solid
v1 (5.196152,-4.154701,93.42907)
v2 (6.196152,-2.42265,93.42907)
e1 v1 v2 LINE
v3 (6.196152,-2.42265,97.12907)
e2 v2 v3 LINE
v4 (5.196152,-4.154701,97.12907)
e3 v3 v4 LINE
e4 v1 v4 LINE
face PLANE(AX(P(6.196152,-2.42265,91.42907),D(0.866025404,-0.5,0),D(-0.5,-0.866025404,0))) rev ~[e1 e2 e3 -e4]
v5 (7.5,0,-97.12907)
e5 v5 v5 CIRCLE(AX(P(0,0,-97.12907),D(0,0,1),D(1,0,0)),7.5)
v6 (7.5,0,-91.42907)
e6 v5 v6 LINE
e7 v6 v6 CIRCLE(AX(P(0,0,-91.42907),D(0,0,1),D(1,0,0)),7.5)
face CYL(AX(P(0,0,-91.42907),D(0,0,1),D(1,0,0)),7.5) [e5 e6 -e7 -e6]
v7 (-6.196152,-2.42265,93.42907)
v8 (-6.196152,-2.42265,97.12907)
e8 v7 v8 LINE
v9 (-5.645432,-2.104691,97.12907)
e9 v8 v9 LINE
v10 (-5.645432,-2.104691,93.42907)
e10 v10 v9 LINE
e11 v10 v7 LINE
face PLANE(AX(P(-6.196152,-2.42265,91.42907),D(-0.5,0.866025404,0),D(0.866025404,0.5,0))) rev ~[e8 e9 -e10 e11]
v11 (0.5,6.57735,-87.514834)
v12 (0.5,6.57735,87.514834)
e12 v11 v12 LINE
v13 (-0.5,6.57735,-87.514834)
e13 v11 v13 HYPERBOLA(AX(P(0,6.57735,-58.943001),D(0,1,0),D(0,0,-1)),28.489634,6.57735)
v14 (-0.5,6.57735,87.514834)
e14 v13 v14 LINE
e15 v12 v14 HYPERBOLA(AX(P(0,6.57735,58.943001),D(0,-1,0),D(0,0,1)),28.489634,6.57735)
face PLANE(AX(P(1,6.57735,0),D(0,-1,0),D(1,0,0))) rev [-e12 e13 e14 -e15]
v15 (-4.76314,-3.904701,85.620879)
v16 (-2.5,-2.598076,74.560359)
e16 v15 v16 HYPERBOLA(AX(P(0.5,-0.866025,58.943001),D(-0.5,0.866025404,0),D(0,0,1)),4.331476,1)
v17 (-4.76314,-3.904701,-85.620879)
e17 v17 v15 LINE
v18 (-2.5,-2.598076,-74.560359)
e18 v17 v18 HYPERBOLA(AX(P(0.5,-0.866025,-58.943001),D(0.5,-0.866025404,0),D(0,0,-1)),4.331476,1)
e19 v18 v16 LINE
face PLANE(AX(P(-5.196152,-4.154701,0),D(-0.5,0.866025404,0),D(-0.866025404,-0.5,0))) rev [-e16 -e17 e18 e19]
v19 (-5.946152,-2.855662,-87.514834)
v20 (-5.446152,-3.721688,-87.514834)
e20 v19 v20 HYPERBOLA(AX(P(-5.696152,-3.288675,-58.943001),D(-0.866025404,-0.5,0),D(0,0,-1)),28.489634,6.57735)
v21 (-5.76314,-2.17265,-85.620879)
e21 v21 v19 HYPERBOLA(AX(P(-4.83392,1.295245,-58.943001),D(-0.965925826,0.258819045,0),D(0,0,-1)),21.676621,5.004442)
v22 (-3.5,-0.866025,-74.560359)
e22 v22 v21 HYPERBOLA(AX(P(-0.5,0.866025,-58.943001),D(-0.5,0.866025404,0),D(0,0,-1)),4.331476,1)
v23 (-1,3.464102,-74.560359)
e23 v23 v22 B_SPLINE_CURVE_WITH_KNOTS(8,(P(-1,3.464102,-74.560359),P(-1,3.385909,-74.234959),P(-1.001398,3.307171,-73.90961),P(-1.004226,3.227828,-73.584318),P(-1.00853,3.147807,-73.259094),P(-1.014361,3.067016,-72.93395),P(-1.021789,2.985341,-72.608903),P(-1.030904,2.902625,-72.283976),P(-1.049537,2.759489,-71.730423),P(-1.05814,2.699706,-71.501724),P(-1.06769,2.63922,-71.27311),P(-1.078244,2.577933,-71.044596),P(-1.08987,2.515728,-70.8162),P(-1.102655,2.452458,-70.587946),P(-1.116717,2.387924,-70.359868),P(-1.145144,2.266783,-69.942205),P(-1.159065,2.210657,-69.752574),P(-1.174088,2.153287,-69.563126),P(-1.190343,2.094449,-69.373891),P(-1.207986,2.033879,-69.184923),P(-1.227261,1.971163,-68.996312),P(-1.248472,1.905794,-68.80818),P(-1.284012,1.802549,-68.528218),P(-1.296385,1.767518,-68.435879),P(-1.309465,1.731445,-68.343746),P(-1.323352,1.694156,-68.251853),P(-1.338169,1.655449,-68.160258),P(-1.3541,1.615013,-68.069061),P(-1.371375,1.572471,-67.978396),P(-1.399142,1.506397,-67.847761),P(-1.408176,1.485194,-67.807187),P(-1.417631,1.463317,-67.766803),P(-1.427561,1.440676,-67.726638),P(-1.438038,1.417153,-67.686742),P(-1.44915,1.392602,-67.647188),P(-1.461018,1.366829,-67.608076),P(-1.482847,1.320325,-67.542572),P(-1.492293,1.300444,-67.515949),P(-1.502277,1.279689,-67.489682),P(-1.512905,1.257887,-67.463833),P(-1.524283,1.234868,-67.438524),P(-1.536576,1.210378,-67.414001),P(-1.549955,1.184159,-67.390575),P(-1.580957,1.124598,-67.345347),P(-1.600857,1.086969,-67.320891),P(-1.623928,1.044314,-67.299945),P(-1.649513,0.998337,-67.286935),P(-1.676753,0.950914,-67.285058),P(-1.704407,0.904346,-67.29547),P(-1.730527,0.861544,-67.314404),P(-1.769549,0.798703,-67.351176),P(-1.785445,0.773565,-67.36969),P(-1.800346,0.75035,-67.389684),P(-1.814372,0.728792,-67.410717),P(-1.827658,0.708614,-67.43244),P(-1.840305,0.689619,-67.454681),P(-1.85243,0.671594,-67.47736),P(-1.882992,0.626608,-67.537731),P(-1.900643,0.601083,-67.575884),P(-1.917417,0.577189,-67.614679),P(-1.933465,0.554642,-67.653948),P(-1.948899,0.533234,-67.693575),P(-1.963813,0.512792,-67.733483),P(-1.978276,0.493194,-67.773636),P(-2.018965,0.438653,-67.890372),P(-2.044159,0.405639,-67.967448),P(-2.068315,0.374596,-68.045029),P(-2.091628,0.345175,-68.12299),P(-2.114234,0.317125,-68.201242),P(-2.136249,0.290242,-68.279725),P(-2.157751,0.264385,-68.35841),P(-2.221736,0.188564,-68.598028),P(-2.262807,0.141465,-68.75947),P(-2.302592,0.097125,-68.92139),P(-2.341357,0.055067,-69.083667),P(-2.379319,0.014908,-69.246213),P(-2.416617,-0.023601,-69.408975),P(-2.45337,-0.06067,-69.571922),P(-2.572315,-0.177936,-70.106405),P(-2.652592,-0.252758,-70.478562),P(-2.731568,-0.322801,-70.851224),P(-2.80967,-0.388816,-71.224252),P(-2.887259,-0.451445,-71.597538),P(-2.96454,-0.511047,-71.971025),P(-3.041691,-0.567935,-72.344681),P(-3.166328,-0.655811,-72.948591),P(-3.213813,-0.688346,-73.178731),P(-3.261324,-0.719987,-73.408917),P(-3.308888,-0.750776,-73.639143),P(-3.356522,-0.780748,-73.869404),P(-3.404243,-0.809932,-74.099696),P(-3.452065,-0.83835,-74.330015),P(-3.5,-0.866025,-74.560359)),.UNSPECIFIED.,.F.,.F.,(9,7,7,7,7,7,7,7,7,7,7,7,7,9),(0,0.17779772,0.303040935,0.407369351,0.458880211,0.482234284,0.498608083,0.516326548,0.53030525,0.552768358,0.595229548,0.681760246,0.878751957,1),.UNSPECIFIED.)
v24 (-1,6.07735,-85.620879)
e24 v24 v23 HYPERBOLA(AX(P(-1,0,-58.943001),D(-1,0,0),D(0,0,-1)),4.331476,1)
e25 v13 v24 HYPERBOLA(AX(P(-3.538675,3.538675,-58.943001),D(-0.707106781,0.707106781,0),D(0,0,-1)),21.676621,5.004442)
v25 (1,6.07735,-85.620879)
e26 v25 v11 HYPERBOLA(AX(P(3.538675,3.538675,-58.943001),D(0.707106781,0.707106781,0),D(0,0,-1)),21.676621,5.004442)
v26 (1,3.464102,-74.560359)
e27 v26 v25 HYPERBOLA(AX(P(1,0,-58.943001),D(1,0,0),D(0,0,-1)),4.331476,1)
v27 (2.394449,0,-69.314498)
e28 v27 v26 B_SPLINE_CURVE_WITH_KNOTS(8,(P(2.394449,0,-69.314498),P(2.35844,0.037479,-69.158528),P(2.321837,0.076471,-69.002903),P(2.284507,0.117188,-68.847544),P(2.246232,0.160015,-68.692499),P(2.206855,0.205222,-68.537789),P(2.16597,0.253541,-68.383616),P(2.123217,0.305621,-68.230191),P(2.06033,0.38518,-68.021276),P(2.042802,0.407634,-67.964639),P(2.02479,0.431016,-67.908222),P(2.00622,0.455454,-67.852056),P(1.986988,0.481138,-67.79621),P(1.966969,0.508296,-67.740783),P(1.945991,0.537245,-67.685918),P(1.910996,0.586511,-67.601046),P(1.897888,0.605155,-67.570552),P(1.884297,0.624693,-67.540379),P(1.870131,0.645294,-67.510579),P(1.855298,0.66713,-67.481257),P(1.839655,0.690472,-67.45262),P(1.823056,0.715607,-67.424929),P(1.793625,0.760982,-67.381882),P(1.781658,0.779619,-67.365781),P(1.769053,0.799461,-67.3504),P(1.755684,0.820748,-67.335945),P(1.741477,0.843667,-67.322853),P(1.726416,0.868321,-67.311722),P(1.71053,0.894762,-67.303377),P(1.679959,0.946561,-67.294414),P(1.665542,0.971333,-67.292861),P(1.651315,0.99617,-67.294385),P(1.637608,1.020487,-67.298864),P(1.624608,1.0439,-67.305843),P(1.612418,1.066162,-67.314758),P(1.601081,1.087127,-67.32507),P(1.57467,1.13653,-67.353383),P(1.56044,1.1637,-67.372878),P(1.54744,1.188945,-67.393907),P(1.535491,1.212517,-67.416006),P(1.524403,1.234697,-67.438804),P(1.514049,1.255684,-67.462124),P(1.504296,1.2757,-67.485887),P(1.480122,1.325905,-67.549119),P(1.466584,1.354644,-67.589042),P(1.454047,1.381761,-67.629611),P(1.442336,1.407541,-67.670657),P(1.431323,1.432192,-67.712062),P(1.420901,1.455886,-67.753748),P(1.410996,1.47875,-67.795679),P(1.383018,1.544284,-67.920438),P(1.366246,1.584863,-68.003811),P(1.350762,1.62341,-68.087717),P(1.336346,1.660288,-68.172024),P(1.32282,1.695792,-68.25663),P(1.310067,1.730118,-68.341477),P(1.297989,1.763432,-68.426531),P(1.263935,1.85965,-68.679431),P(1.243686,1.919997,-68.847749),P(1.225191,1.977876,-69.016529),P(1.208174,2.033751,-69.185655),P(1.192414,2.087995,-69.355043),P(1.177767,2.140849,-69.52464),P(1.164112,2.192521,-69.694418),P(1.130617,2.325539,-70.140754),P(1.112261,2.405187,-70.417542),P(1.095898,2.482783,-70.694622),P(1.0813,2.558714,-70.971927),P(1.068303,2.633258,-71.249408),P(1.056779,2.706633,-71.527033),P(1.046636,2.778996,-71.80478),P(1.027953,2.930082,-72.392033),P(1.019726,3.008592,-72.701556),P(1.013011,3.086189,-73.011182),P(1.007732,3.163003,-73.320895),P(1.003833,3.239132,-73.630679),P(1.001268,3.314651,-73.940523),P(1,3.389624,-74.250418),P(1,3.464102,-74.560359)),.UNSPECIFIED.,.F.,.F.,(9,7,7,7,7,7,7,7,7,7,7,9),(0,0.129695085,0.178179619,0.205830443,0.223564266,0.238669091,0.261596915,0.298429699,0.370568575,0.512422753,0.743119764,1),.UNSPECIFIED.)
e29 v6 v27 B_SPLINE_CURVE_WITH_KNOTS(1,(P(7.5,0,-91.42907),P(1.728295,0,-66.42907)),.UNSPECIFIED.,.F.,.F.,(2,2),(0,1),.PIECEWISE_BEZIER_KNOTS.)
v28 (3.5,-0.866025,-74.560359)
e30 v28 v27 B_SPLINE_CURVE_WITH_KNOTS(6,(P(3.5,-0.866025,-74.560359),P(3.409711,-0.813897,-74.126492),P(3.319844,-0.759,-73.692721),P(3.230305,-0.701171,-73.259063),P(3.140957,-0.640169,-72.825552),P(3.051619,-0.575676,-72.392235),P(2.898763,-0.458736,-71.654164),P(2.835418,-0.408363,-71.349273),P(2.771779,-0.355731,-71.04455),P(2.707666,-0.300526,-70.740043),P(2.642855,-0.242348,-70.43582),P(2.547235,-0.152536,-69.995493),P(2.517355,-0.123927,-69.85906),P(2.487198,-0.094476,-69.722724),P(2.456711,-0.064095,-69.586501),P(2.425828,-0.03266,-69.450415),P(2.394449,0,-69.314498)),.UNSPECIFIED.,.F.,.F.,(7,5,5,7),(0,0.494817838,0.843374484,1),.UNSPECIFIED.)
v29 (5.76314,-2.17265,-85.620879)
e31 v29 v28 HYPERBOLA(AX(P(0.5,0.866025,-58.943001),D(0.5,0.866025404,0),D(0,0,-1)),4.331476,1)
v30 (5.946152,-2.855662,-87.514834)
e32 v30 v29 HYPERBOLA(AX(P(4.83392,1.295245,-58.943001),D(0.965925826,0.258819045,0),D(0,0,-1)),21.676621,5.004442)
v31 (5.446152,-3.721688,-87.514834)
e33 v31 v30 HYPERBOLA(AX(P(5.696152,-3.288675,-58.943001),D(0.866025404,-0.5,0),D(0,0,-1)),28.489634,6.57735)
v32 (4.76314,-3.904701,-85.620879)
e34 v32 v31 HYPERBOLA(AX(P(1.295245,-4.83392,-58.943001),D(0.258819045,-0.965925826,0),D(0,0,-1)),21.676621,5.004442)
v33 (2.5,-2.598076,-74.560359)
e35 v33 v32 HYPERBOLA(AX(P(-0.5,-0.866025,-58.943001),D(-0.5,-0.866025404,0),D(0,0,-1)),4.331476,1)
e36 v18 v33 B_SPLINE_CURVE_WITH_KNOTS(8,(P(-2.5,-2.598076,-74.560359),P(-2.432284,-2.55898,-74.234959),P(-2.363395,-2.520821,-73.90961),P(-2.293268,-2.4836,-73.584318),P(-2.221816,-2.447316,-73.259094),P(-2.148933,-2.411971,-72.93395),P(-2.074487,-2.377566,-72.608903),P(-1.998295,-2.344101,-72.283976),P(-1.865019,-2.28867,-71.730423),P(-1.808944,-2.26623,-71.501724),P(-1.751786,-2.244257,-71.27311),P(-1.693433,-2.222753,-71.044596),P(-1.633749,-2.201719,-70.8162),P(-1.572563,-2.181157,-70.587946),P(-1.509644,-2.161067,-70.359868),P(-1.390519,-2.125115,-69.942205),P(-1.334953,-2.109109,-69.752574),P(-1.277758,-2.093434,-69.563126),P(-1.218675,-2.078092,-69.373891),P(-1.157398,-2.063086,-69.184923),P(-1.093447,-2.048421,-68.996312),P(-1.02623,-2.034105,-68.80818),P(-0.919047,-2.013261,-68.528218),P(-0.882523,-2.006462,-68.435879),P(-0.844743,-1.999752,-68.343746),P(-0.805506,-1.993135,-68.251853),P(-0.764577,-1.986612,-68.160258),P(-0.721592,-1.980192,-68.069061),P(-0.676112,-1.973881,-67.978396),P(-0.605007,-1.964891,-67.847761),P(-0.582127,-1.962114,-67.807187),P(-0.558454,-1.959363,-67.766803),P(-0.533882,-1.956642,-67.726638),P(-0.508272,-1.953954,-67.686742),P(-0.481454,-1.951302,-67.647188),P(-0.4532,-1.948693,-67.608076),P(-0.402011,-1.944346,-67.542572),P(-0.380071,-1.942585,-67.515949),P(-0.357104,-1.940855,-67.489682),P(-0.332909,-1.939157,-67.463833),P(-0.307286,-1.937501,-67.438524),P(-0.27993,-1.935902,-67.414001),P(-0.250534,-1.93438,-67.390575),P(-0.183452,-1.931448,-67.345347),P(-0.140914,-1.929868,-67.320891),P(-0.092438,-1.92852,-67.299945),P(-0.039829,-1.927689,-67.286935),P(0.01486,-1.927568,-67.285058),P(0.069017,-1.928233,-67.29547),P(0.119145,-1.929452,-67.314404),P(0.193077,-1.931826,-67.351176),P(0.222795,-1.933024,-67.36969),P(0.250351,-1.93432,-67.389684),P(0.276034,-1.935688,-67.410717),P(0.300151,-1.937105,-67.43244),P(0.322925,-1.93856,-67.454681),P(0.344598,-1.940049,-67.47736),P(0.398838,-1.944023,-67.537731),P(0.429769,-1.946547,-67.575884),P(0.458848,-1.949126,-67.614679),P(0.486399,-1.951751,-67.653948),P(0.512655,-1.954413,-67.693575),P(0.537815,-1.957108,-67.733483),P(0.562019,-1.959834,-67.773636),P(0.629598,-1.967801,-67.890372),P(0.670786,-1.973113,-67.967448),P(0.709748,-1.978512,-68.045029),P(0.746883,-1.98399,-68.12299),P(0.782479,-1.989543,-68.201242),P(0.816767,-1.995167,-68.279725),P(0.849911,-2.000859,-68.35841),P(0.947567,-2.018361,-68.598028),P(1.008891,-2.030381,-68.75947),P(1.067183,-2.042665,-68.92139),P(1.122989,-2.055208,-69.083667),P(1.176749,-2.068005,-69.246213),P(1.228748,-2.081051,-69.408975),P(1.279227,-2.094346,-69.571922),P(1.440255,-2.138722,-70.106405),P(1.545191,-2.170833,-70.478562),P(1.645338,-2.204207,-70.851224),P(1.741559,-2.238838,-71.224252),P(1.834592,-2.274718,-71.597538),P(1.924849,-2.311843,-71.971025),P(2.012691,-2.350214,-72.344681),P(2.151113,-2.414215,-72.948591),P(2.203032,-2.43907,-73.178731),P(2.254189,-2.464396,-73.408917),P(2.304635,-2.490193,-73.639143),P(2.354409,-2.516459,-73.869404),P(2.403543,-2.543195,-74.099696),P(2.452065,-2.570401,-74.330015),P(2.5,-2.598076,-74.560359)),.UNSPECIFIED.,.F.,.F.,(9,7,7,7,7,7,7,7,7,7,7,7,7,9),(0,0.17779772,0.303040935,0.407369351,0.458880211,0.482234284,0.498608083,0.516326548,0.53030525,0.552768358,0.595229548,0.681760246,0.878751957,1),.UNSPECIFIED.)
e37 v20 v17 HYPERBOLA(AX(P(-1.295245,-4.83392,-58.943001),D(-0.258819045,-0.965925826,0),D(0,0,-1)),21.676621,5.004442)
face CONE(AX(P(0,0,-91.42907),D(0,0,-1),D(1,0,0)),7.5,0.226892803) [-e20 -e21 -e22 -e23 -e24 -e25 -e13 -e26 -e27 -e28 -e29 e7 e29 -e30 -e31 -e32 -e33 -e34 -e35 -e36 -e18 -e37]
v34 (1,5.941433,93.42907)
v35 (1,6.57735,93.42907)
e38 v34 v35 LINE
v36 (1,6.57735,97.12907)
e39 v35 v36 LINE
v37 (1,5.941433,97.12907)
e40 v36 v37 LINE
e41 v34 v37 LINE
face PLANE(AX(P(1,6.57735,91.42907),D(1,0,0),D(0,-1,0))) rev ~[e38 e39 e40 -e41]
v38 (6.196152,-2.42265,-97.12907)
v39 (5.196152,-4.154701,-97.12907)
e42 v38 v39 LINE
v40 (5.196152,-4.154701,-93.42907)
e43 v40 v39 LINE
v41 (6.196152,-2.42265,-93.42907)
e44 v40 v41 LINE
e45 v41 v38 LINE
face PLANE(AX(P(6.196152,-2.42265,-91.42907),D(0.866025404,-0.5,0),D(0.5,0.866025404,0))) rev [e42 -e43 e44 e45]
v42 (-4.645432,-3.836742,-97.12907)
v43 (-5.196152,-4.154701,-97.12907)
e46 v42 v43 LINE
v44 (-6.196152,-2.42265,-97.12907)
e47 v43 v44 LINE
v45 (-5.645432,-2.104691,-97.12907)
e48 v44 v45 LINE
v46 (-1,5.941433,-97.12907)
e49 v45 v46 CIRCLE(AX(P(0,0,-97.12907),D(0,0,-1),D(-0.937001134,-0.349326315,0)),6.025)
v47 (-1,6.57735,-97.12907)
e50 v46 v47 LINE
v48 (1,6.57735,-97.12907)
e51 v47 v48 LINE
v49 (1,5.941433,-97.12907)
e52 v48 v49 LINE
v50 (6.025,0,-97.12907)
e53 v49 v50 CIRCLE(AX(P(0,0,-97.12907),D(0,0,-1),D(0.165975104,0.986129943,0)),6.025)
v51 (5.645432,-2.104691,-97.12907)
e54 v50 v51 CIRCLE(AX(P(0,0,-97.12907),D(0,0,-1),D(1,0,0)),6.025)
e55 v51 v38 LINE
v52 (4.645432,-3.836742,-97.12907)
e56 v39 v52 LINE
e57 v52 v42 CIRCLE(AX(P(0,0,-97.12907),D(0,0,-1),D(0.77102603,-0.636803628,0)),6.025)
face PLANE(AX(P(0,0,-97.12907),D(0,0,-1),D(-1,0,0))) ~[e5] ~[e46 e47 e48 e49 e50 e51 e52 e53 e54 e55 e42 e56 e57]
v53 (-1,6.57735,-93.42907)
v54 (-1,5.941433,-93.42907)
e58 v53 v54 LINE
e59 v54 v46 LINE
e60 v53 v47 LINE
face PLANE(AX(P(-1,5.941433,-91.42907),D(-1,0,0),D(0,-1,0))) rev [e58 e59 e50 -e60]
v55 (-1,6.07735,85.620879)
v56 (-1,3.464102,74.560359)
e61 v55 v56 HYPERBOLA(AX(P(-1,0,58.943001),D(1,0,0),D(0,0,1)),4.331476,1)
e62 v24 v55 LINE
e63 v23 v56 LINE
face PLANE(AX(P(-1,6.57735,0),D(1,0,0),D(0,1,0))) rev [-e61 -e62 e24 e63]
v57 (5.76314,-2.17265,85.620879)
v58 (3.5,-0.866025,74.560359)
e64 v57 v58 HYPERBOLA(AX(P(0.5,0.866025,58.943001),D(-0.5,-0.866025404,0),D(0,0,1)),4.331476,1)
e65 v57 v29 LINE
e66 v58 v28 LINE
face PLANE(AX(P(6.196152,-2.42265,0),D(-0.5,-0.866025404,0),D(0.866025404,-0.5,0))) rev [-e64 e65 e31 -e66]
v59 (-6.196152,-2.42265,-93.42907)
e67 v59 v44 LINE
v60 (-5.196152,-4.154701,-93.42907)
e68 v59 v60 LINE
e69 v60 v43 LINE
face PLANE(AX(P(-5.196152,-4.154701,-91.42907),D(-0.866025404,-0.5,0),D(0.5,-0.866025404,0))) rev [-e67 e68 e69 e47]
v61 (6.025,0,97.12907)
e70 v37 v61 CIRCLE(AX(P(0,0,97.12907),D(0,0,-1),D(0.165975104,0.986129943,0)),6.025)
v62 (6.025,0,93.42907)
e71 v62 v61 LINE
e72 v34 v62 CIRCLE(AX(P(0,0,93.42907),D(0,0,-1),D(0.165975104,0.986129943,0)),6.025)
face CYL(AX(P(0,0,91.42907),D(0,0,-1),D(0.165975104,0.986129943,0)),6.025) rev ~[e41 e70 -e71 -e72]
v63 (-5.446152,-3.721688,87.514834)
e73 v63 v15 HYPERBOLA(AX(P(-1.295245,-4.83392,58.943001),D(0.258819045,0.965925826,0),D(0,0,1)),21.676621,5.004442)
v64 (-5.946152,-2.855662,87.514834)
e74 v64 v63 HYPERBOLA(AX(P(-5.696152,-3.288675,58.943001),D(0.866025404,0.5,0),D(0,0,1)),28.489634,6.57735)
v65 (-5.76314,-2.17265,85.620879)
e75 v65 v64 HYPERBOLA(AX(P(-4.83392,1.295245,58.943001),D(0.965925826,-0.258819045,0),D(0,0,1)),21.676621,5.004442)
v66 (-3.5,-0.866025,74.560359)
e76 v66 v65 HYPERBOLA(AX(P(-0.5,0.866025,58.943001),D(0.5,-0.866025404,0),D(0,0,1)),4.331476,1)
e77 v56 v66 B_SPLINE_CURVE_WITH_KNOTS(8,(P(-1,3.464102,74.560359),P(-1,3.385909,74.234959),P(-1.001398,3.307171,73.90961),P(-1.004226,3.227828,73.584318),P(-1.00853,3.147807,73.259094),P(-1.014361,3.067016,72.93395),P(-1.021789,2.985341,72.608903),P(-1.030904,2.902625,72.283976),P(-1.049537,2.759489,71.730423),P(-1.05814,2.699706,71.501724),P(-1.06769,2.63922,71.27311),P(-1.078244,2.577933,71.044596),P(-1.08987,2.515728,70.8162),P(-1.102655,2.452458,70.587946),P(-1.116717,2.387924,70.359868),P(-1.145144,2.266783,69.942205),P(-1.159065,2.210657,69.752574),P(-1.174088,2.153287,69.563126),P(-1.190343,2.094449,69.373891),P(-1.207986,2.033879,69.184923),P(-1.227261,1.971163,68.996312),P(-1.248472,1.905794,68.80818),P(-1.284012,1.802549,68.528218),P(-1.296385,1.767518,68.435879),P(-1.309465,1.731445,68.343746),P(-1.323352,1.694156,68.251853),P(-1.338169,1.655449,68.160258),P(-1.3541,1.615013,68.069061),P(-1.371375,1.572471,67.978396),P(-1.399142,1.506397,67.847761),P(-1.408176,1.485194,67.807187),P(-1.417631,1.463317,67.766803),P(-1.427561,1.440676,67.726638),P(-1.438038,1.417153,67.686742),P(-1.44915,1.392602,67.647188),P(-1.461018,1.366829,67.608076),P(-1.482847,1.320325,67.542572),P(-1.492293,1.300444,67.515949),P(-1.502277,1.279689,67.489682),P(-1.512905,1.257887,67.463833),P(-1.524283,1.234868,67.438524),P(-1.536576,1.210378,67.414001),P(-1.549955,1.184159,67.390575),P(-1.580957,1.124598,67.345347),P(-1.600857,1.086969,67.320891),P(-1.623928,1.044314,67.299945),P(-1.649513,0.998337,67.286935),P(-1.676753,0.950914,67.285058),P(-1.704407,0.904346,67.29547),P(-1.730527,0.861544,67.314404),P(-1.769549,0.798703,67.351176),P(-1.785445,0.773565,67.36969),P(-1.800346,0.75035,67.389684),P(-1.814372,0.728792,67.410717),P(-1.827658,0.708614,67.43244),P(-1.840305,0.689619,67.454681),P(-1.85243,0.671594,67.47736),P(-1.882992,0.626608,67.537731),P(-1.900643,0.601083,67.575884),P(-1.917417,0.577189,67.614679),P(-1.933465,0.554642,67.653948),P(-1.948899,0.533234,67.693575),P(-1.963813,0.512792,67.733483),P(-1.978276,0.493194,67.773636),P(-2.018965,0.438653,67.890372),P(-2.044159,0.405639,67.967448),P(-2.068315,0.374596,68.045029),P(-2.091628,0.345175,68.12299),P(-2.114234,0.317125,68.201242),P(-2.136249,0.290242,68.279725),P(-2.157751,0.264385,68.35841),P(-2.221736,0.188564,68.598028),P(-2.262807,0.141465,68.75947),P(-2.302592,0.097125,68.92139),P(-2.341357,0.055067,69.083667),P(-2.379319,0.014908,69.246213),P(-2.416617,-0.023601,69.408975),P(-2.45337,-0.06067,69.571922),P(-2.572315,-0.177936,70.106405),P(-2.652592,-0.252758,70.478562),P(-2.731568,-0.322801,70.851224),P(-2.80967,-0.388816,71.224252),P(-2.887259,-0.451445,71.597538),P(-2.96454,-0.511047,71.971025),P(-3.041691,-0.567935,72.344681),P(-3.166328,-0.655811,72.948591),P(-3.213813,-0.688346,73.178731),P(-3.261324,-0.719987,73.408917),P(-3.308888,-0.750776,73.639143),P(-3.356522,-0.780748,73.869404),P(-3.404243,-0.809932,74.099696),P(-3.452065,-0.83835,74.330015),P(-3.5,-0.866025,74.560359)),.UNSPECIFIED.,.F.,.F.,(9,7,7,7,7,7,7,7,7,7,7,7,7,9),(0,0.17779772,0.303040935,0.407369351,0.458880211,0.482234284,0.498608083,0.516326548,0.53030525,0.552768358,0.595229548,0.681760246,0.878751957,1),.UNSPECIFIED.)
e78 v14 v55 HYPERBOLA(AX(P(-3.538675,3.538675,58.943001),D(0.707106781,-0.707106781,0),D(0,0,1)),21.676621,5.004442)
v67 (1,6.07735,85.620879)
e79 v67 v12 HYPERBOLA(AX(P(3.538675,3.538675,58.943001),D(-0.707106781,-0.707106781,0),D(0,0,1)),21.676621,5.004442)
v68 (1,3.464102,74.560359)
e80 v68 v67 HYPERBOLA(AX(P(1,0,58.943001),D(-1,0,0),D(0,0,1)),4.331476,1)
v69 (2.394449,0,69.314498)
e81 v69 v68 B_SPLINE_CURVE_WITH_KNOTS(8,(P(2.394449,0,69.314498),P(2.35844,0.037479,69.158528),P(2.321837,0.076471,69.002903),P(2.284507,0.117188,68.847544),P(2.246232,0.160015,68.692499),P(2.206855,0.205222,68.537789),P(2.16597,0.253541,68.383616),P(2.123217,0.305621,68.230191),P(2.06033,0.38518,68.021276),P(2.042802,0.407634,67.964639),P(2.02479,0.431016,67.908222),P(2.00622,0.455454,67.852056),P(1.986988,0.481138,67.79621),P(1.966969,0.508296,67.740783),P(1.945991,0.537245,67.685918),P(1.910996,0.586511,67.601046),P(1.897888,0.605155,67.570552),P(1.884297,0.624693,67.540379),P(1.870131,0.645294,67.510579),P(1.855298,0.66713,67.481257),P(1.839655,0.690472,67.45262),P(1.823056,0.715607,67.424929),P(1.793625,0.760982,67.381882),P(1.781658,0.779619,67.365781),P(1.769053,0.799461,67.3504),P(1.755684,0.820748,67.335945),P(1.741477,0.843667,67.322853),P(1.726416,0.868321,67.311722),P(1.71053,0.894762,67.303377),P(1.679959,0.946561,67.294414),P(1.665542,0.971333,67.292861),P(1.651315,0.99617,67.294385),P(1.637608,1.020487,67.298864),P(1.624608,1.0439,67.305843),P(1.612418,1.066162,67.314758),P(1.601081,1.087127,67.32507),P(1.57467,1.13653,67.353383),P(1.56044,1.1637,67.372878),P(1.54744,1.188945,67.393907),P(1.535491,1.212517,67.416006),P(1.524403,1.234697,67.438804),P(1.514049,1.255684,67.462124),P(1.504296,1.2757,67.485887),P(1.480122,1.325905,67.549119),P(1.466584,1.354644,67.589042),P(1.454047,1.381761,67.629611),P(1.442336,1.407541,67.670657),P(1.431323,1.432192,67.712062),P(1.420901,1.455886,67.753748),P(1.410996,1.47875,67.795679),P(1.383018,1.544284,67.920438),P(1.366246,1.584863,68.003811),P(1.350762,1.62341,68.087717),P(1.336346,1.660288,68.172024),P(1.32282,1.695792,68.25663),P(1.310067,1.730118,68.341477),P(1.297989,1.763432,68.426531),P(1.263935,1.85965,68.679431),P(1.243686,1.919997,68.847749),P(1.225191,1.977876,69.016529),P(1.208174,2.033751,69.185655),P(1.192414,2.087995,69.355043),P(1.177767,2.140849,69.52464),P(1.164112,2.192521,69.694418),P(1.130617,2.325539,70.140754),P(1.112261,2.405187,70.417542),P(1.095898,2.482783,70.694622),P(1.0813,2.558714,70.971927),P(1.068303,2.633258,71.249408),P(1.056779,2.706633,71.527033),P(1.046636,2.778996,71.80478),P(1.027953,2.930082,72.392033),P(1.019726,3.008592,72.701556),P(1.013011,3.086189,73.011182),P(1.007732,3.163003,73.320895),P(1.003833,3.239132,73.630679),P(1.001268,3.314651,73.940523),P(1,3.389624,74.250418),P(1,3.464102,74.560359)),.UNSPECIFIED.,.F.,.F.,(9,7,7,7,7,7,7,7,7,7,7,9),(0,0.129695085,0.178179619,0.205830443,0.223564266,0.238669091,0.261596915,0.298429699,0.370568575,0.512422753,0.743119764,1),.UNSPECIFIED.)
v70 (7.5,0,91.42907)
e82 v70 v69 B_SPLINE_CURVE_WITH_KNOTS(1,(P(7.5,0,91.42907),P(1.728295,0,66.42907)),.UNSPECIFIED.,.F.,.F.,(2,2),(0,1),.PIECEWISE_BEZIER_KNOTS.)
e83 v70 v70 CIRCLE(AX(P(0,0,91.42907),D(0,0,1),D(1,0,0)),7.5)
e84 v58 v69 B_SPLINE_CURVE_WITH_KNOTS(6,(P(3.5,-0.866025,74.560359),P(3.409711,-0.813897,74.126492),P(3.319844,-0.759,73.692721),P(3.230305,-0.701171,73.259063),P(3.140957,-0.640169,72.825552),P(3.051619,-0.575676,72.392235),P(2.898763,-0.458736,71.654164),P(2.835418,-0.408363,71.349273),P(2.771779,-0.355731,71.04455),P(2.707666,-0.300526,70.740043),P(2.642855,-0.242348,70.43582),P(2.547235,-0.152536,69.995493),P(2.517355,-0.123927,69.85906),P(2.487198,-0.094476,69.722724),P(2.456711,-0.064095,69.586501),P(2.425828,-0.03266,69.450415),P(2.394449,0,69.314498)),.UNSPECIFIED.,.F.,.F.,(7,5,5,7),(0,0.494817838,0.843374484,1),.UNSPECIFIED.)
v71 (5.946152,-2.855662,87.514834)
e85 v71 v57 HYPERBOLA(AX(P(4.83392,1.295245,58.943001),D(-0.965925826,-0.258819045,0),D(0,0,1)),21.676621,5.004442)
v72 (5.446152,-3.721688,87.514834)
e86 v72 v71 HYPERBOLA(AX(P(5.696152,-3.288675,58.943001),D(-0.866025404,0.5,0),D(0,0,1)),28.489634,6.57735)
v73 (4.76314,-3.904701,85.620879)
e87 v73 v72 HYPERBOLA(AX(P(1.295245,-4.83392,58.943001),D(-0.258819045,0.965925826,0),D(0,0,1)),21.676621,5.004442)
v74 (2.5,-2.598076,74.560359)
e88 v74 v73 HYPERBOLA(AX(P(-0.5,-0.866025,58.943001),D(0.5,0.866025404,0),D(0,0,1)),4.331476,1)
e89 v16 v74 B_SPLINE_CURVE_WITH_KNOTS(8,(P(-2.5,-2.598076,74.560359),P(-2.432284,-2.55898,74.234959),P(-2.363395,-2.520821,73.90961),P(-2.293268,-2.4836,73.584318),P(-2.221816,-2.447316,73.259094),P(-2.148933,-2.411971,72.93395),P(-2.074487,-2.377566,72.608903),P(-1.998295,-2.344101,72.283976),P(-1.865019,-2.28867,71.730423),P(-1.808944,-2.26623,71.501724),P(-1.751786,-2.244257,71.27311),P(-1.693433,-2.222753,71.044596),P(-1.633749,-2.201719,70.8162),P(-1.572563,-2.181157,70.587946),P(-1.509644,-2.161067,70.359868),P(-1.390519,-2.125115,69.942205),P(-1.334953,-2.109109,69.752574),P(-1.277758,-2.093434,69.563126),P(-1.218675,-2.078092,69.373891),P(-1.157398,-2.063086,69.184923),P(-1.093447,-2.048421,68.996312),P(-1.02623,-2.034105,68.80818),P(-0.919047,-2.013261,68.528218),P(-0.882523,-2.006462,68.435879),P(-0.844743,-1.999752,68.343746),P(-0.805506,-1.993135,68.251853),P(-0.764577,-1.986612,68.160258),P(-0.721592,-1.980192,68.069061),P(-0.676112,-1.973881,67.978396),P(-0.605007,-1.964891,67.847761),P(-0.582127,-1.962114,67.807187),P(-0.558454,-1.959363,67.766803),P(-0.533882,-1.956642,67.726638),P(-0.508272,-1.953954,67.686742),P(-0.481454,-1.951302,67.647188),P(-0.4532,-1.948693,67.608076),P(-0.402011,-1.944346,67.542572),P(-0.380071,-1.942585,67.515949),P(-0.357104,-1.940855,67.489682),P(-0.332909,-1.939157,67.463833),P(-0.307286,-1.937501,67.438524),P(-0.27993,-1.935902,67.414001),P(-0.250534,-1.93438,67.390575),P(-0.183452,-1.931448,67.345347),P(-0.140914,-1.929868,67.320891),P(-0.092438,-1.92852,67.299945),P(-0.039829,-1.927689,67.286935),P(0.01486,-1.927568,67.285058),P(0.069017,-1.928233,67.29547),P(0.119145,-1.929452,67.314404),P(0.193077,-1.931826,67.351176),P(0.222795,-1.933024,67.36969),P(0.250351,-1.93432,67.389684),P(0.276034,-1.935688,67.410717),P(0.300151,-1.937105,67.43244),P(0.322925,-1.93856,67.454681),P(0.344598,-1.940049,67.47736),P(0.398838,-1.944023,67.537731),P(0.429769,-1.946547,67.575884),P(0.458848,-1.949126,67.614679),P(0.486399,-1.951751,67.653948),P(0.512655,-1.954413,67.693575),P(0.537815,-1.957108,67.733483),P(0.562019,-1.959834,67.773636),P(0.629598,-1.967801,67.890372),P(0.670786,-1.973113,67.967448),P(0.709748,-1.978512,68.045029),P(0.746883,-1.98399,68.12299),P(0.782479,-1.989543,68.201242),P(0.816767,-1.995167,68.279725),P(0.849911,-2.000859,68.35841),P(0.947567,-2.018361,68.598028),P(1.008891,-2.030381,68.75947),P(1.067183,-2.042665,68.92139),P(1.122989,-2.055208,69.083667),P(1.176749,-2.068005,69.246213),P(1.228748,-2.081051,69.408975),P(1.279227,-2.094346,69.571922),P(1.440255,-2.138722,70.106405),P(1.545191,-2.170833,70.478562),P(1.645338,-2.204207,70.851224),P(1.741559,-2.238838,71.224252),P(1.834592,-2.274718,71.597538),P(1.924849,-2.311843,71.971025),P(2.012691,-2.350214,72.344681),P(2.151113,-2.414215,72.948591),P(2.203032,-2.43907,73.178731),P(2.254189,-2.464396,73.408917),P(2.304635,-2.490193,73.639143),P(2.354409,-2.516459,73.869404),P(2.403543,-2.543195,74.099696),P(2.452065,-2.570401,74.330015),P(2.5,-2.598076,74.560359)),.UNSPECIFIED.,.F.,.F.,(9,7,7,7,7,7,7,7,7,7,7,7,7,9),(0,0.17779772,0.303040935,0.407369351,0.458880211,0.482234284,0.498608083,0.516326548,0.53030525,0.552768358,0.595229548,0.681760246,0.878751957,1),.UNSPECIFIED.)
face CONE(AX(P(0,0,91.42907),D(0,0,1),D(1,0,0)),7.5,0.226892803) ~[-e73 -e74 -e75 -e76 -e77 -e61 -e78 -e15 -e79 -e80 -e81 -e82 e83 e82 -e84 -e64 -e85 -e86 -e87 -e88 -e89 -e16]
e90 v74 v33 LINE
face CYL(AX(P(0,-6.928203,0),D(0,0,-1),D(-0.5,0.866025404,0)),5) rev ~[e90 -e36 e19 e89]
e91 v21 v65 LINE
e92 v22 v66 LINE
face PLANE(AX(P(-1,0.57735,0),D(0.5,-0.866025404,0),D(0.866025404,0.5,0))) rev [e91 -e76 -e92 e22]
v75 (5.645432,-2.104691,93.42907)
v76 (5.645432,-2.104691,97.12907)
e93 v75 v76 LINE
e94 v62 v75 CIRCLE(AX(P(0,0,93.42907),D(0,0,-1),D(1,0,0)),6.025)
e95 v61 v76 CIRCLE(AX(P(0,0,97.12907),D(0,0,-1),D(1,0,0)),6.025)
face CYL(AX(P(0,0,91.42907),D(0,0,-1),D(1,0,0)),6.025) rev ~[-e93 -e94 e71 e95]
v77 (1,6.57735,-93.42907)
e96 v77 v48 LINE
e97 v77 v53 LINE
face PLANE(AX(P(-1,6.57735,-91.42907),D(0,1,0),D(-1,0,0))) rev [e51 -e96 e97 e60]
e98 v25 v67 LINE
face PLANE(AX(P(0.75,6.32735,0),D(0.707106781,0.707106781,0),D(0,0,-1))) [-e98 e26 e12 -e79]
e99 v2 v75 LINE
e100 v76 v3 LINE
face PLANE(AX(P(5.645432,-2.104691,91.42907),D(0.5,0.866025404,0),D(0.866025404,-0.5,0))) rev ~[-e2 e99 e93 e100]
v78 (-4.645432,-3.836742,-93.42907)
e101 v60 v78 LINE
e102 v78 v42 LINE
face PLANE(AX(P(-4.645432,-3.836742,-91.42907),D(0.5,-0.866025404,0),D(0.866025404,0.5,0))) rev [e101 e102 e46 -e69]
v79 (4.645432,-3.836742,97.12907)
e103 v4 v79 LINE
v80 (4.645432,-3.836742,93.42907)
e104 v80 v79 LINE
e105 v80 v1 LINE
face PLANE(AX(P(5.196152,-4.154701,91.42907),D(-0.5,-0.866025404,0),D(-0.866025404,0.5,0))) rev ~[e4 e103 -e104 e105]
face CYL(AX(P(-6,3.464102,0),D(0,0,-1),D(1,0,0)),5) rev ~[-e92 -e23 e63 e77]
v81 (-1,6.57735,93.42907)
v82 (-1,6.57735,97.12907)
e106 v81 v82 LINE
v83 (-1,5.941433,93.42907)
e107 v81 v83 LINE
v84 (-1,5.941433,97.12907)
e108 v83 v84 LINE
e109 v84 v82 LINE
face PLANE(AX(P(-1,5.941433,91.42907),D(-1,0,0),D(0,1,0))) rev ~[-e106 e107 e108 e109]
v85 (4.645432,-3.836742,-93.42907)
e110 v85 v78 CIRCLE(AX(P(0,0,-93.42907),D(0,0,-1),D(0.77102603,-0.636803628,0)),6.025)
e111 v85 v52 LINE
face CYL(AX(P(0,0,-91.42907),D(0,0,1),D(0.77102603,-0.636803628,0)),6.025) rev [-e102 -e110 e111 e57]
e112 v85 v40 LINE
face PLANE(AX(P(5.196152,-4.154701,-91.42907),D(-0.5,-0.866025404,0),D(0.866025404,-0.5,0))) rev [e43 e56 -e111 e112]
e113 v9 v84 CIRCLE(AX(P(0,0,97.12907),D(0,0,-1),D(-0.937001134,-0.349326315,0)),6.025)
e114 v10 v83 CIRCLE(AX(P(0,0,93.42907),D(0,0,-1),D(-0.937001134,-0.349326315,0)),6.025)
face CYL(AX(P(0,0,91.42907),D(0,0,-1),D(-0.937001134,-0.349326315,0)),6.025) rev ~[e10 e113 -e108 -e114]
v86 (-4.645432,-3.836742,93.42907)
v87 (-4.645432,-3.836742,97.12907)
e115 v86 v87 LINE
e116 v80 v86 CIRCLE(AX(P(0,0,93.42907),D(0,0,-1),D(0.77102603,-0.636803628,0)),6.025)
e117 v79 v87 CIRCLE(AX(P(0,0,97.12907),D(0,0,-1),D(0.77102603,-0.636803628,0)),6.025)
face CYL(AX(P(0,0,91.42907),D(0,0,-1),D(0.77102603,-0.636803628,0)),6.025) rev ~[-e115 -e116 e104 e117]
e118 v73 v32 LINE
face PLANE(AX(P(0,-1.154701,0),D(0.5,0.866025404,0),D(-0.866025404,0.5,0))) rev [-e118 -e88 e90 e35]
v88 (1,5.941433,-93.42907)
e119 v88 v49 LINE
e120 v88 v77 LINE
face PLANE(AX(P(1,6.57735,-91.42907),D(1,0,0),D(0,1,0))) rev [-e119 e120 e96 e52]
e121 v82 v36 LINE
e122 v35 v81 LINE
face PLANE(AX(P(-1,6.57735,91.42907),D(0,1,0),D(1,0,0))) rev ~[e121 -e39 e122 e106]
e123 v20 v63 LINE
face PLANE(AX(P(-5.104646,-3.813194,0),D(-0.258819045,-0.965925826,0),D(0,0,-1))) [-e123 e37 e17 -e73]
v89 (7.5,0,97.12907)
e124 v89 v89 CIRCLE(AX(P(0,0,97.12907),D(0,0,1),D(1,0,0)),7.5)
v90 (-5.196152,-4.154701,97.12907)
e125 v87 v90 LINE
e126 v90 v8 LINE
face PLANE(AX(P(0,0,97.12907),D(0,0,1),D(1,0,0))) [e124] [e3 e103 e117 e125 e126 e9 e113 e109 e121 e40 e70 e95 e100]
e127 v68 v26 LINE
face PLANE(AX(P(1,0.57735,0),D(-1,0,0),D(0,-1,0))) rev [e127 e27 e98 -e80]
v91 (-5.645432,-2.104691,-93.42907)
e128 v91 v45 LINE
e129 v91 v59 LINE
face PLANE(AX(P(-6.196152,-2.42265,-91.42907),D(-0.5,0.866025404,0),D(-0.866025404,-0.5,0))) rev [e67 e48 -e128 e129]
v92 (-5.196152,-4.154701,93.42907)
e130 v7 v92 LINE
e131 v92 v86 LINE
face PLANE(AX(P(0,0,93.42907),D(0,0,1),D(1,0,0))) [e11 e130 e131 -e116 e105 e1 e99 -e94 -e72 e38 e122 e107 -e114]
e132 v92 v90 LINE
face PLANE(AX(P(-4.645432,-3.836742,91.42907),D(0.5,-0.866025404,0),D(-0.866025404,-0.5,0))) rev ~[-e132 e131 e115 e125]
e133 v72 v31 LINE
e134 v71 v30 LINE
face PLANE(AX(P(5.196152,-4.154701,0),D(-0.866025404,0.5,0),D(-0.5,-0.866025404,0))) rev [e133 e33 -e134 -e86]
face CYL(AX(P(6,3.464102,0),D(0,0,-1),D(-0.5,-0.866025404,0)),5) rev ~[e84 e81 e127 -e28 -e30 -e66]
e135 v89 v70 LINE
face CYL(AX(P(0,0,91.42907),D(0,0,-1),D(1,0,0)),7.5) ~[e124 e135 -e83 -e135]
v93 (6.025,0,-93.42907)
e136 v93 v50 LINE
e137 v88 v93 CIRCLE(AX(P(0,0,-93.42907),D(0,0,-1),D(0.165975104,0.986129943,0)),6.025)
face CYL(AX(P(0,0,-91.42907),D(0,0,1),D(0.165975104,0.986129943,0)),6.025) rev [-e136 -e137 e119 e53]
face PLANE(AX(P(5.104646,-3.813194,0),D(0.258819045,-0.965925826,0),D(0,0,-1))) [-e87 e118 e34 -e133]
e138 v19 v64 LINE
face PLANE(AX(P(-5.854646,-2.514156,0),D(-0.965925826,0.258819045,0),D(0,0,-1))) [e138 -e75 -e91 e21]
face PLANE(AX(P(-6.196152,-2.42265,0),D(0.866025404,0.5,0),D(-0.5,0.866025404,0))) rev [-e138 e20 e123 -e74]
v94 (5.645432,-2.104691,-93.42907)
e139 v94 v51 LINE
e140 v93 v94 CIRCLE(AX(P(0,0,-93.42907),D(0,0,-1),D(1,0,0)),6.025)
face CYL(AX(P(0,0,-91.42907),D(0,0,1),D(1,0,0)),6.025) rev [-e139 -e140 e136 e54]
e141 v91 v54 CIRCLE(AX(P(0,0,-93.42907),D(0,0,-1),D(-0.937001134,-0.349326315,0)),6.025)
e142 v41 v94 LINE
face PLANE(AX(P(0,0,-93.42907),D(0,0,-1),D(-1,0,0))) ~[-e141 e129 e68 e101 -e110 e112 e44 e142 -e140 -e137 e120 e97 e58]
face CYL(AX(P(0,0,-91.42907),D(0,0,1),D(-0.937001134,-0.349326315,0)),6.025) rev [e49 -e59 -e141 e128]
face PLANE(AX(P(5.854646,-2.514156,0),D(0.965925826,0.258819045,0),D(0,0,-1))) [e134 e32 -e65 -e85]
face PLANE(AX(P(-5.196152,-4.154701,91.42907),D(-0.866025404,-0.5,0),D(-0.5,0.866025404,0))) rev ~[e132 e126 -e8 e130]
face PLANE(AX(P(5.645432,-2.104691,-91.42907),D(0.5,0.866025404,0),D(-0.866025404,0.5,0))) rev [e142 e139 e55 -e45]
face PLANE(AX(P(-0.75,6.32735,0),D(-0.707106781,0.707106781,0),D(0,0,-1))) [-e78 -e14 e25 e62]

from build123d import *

# Parameters (mm, degrees)
F1_DEPTH = 91.42907
F2_R     = 7.5
F3_DEPTH = 2
F4_DEPTH = 5.7
F5_R     = 5
F6_DEPTH = 25
F6_TAPER = 13
F7_SIZE  = 0.5


with BuildPart() as f1:
    # F0 (on Top) → F1 (new body)
    with BuildSketch(Plane.XY):
        Polygon((1, 6.5773502692), (-1, 6.5773502692), (-1, 0.5773502692), (-6.1961524227, -2.4226497308), (-5.1961524227, -4.1547005384), (0, -1.1547005384), (5.1961524227, -4.1547005384), (6.1961524227, -2.4226497308), (1, 0.5773502692), align=None)
    extrude(amount=F1_DEPTH)

    # F2 (on face) → F3 (join)
    with BuildSketch(Plane.XY.offset(91.42907)):
        Circle(F2_R)
        with BuildLine():
            ThreePointArc((1, 5.941432908), (4.6003056964, 3.8907341852), (6.025, 0))
            ThreePointArc((6.025, 0), (5.9293486908, -1.0693217956), (5.6454318332, -2.1046910502))
            Line((5.6454318332, -2.1046910502), (6.1961524227, -2.4226497308))
            Line((6.1961524227, -2.4226497308), (5.1961524227, -4.1547005384))
            Line((5.1961524227, -4.1547005384), (4.6454318332, -3.8367418578))
            ThreePointArc((4.6454318332, -3.8367418578), (0, -6.025), (-4.6454318332, -3.8367418578))
            Line((-4.6454318332, -3.8367418578), (-5.1961524227, -4.1547005384))
            Line((-5.1961524227, -4.1547005384), (-6.1961524227, -2.4226497308))
            Line((-6.1961524227, -2.4226497308), (-5.6454318332, -2.1046910502))
            ThreePointArc((-5.6454318332, -2.1046910502), (-5.2178030578, 3.0125), (-1, 5.941432908))
            Line((-1, 5.941432908), (-1, 6.5773502692))
            Line((-1, 6.5773502692), (1, 6.5773502692))
            Line((1, 6.5773502692), (1, 5.941432908))
        make_face(mode=Mode.SUBTRACT)
        with BuildLine():
            Line((1, 0.5773502692), (1, 5.941432908))
            ThreePointArc((1, 5.941432908), (0, 6.025), (-1, 5.941432908))
            Line((-1, 5.941432908), (-1, 0.5773502692))
            Line((-1, 0.5773502692), (-5.6454318332, -2.1046910502))
            ThreePointArc((-5.6454318332, -2.1046910502), (-5.2178030578, -3.0125), (-4.6454318332, -3.8367418578))
            Line((-4.6454318332, -3.8367418578), (0, -1.1547005384))
            Line((0, -1.1547005384), (4.6454318332, -3.8367418578))
            ThreePointArc((4.6454318332, -3.8367418578), (5.2178030578, -3.0125), (5.6454318332, -2.1046910502))
            Line((5.6454318332, -2.1046910502), (1, 0.5773502692))
        make_face()
        with BuildLine():
            ThreePointArc((5.6454318332, -2.1046910502), (5.9293486908, -1.0693217956), (6.025, 0))
            ThreePointArc((6.025, 0), (4.6003056964, 3.8907341852), (1, 5.941432908))
            Line((1, 5.941432908), (1, 0.5773502692))
            Line((1, 0.5773502692), (5.6454318332, -2.1046910502))
        make_face()
        with BuildLine():
            ThreePointArc((-4.6454318332, -3.8367418578), (0, -6.025), (4.6454318332, -3.8367418578))
            Line((4.6454318332, -3.8367418578), (0, -1.1547005384))
            Line((0, -1.1547005384), (-4.6454318332, -3.8367418578))
        make_face()
        with BuildLine():
            Line((-1, 0.5773502692), (-1, 5.941432908))
            ThreePointArc((-1, 5.941432908), (-5.2178030578, 3.0125), (-5.6454318332, -2.1046910502))
            Line((-5.6454318332, -2.1046910502), (-1, 0.5773502692))
        make_face()
        with BuildLine():
            ThreePointArc((-4.6454318332, -3.8367418578), (-5.2178030578, -3.0125), (-5.6454318332, -2.1046910502))
            Line((-5.6454318332, -2.1046910502), (-6.1961524227, -2.4226497308))
            Line((-6.1961524227, -2.4226497308), (-5.1961524227, -4.1547005384))
            Line((-5.1961524227, -4.1547005384), (-4.6454318332, -3.8367418578))
        make_face()
        with BuildLine():
            Line((6.1961524227, -2.4226497308), (5.6454318332, -2.1046910502))
            ThreePointArc((5.6454318332, -2.1046910502), (5.2178030578, -3.0125), (4.6454318332, -3.8367418578))
            Line((4.6454318332, -3.8367418578), (5.1961524227, -4.1547005384))
            Line((5.1961524227, -4.1547005384), (6.1961524227, -2.4226497308))
        make_face()
        with BuildLine():
            ThreePointArc((-1, 5.941432908), (0, 6.025), (1, 5.941432908))
            Line((1, 5.941432908), (1, 6.5773502692))
            Line((1, 6.5773502692), (-1, 6.5773502692))
            Line((-1, 6.5773502692), (-1, 5.941432908))
        make_face()
    extrude(amount=F3_DEPTH)

    # F2 (on face) → F4 (join)
    with BuildSketch(Plane.XY.offset(91.42907)):
        Circle(F2_R)
        with BuildLine():
            ThreePointArc((1, 5.941432908), (4.6003056964, 3.8907341852), (6.025, 0))
            ThreePointArc((6.025, 0), (5.9293486908, -1.0693217956), (5.6454318332, -2.1046910502))
            Line((5.6454318332, -2.1046910502), (6.1961524227, -2.4226497308))
            Line((6.1961524227, -2.4226497308), (5.1961524227, -4.1547005384))
            Line((5.1961524227, -4.1547005384), (4.6454318332, -3.8367418578))
            ThreePointArc((4.6454318332, -3.8367418578), (0, -6.025), (-4.6454318332, -3.8367418578))
            Line((-4.6454318332, -3.8367418578), (-5.1961524227, -4.1547005384))
            Line((-5.1961524227, -4.1547005384), (-6.1961524227, -2.4226497308))
            Line((-6.1961524227, -2.4226497308), (-5.6454318332, -2.1046910502))
            ThreePointArc((-5.6454318332, -2.1046910502), (-5.2178030578, 3.0125), (-1, 5.941432908))
            Line((-1, 5.941432908), (-1, 6.5773502692))
            Line((-1, 6.5773502692), (1, 6.5773502692))
            Line((1, 6.5773502692), (1, 5.941432908))
        make_face(mode=Mode.SUBTRACT)
    extrude(amount=F4_DEPTH)

    # F5
    f5_edges = [f1.edges().sort_by_distance(p)[0] for p in [
        (-1, 0.57735, 45.714535),
        (1, 0.57735, 45.714535),
        (0, -1.154701, 45.714535),
    ]]
    fillet(f5_edges, radius=F5_R)

    # F2 (on face) → F6 (join)
    with BuildSketch(Plane.XY.offset(91.42907)):
        Circle(F2_R)
        with BuildLine():
            ThreePointArc((1, 5.941432908), (4.6003056964, 3.8907341852), (6.025, 0))
            ThreePointArc((6.025, 0), (5.9293486908, -1.0693217956), (5.6454318332, -2.1046910502))
            Line((5.6454318332, -2.1046910502), (6.1961524227, -2.4226497308))
            Line((6.1961524227, -2.4226497308), (5.1961524227, -4.1547005384))
            Line((5.1961524227, -4.1547005384), (4.6454318332, -3.8367418578))
            ThreePointArc((4.6454318332, -3.8367418578), (0, -6.025), (-4.6454318332, -3.8367418578))
            Line((-4.6454318332, -3.8367418578), (-5.1961524227, -4.1547005384))
            Line((-5.1961524227, -4.1547005384), (-6.1961524227, -2.4226497308))
            Line((-6.1961524227, -2.4226497308), (-5.6454318332, -2.1046910502))
            ThreePointArc((-5.6454318332, -2.1046910502), (-5.2178030578, 3.0125), (-1, 5.941432908))
            Line((-1, 5.941432908), (-1, 6.5773502692))
            Line((-1, 6.5773502692), (1, 6.5773502692))
            Line((1, 6.5773502692), (1, 5.941432908))
        make_face(mode=Mode.SUBTRACT)
        with BuildLine():
            ThreePointArc((-4.6454318332, -3.8367418578), (-5.2178030578, -3.0125), (-5.6454318332, -2.1046910502))
            Line((-5.6454318332, -2.1046910502), (-6.1961524227, -2.4226497308))
            Line((-6.1961524227, -2.4226497308), (-5.1961524227, -4.1547005384))
            Line((-5.1961524227, -4.1547005384), (-4.6454318332, -3.8367418578))
        make_face()
        with BuildLine():
            Line((-1, 0.5773502692), (-1, 5.941432908))
            ThreePointArc((-1, 5.941432908), (-5.2178030578, 3.0125), (-5.6454318332, -2.1046910502))
            Line((-5.6454318332, -2.1046910502), (-1, 0.5773502692))
        make_face()
        with BuildLine():
            Line((1, 0.5773502692), (1, 5.941432908))
            ThreePointArc((1, 5.941432908), (0, 6.025), (-1, 5.941432908))
            Line((-1, 5.941432908), (-1, 0.5773502692))
            Line((-1, 0.5773502692), (-5.6454318332, -2.1046910502))
            ThreePointArc((-5.6454318332, -2.1046910502), (-5.2178030578, -3.0125), (-4.6454318332, -3.8367418578))
            Line((-4.6454318332, -3.8367418578), (0, -1.1547005384))
            Line((0, -1.1547005384), (4.6454318332, -3.8367418578))
            ThreePointArc((4.6454318332, -3.8367418578), (5.2178030578, -3.0125), (5.6454318332, -2.1046910502))
            Line((5.6454318332, -2.1046910502), (1, 0.5773502692))
        make_face()
        with BuildLine():
            ThreePointArc((-4.6454318332, -3.8367418578), (0, -6.025), (4.6454318332, -3.8367418578))
            Line((4.6454318332, -3.8367418578), (0, -1.1547005384))
            Line((0, -1.1547005384), (-4.6454318332, -3.8367418578))
        make_face()
        with BuildLine():
            ThreePointArc((5.6454318332, -2.1046910502), (5.9293486908, -1.0693217956), (6.025, 0))
            ThreePointArc((6.025, 0), (4.6003056964, 3.8907341852), (1, 5.941432908))
            Line((1, 5.941432908), (1, 0.5773502692))
            Line((1, 0.5773502692), (5.6454318332, -2.1046910502))
        make_face()
        with BuildLine():
            Line((6.1961524227, -2.4226497308), (5.6454318332, -2.1046910502))
            ThreePointArc((5.6454318332, -2.1046910502), (5.2178030578, -3.0125), (4.6454318332, -3.8367418578))
            Line((4.6454318332, -3.8367418578), (5.1961524227, -4.1547005384))
            Line((5.1961524227, -4.1547005384), (6.1961524227, -2.4226497308))
        make_face()
        with BuildLine():
            ThreePointArc((-1, 5.941432908), (0, 6.025), (1, 5.941432908))
            Line((1, 5.941432908), (1, 6.5773502692))
            Line((1, 6.5773502692), (-1, 6.5773502692))
            Line((-1, 6.5773502692), (-1, 5.941432908))
        make_face()
    extrude(amount=-F6_DEPTH, taper=F6_TAPER)

    # F7
    f7_edges = [f1.edges().sort_by_distance(p)[0] for p in [
        (-6.196152, -2.42265, 43.880013),
        (-1, 6.57735, 43.880013),
        (1, 6.57735, 43.880013),
        (6.196152, -2.42265, 43.880013),
        (5.196152, -4.154701, 43.880013),
        (-5.196152, -4.154701, 43.880013),
    ]]
    chamfer(f7_edges, length=F7_SIZE)

    # F8: F1 across plane


with BuildPart() as f1_1:
    add(f1.part)
    add(f1.part.mirror(Plane.XY))


solid = f1_1.part
